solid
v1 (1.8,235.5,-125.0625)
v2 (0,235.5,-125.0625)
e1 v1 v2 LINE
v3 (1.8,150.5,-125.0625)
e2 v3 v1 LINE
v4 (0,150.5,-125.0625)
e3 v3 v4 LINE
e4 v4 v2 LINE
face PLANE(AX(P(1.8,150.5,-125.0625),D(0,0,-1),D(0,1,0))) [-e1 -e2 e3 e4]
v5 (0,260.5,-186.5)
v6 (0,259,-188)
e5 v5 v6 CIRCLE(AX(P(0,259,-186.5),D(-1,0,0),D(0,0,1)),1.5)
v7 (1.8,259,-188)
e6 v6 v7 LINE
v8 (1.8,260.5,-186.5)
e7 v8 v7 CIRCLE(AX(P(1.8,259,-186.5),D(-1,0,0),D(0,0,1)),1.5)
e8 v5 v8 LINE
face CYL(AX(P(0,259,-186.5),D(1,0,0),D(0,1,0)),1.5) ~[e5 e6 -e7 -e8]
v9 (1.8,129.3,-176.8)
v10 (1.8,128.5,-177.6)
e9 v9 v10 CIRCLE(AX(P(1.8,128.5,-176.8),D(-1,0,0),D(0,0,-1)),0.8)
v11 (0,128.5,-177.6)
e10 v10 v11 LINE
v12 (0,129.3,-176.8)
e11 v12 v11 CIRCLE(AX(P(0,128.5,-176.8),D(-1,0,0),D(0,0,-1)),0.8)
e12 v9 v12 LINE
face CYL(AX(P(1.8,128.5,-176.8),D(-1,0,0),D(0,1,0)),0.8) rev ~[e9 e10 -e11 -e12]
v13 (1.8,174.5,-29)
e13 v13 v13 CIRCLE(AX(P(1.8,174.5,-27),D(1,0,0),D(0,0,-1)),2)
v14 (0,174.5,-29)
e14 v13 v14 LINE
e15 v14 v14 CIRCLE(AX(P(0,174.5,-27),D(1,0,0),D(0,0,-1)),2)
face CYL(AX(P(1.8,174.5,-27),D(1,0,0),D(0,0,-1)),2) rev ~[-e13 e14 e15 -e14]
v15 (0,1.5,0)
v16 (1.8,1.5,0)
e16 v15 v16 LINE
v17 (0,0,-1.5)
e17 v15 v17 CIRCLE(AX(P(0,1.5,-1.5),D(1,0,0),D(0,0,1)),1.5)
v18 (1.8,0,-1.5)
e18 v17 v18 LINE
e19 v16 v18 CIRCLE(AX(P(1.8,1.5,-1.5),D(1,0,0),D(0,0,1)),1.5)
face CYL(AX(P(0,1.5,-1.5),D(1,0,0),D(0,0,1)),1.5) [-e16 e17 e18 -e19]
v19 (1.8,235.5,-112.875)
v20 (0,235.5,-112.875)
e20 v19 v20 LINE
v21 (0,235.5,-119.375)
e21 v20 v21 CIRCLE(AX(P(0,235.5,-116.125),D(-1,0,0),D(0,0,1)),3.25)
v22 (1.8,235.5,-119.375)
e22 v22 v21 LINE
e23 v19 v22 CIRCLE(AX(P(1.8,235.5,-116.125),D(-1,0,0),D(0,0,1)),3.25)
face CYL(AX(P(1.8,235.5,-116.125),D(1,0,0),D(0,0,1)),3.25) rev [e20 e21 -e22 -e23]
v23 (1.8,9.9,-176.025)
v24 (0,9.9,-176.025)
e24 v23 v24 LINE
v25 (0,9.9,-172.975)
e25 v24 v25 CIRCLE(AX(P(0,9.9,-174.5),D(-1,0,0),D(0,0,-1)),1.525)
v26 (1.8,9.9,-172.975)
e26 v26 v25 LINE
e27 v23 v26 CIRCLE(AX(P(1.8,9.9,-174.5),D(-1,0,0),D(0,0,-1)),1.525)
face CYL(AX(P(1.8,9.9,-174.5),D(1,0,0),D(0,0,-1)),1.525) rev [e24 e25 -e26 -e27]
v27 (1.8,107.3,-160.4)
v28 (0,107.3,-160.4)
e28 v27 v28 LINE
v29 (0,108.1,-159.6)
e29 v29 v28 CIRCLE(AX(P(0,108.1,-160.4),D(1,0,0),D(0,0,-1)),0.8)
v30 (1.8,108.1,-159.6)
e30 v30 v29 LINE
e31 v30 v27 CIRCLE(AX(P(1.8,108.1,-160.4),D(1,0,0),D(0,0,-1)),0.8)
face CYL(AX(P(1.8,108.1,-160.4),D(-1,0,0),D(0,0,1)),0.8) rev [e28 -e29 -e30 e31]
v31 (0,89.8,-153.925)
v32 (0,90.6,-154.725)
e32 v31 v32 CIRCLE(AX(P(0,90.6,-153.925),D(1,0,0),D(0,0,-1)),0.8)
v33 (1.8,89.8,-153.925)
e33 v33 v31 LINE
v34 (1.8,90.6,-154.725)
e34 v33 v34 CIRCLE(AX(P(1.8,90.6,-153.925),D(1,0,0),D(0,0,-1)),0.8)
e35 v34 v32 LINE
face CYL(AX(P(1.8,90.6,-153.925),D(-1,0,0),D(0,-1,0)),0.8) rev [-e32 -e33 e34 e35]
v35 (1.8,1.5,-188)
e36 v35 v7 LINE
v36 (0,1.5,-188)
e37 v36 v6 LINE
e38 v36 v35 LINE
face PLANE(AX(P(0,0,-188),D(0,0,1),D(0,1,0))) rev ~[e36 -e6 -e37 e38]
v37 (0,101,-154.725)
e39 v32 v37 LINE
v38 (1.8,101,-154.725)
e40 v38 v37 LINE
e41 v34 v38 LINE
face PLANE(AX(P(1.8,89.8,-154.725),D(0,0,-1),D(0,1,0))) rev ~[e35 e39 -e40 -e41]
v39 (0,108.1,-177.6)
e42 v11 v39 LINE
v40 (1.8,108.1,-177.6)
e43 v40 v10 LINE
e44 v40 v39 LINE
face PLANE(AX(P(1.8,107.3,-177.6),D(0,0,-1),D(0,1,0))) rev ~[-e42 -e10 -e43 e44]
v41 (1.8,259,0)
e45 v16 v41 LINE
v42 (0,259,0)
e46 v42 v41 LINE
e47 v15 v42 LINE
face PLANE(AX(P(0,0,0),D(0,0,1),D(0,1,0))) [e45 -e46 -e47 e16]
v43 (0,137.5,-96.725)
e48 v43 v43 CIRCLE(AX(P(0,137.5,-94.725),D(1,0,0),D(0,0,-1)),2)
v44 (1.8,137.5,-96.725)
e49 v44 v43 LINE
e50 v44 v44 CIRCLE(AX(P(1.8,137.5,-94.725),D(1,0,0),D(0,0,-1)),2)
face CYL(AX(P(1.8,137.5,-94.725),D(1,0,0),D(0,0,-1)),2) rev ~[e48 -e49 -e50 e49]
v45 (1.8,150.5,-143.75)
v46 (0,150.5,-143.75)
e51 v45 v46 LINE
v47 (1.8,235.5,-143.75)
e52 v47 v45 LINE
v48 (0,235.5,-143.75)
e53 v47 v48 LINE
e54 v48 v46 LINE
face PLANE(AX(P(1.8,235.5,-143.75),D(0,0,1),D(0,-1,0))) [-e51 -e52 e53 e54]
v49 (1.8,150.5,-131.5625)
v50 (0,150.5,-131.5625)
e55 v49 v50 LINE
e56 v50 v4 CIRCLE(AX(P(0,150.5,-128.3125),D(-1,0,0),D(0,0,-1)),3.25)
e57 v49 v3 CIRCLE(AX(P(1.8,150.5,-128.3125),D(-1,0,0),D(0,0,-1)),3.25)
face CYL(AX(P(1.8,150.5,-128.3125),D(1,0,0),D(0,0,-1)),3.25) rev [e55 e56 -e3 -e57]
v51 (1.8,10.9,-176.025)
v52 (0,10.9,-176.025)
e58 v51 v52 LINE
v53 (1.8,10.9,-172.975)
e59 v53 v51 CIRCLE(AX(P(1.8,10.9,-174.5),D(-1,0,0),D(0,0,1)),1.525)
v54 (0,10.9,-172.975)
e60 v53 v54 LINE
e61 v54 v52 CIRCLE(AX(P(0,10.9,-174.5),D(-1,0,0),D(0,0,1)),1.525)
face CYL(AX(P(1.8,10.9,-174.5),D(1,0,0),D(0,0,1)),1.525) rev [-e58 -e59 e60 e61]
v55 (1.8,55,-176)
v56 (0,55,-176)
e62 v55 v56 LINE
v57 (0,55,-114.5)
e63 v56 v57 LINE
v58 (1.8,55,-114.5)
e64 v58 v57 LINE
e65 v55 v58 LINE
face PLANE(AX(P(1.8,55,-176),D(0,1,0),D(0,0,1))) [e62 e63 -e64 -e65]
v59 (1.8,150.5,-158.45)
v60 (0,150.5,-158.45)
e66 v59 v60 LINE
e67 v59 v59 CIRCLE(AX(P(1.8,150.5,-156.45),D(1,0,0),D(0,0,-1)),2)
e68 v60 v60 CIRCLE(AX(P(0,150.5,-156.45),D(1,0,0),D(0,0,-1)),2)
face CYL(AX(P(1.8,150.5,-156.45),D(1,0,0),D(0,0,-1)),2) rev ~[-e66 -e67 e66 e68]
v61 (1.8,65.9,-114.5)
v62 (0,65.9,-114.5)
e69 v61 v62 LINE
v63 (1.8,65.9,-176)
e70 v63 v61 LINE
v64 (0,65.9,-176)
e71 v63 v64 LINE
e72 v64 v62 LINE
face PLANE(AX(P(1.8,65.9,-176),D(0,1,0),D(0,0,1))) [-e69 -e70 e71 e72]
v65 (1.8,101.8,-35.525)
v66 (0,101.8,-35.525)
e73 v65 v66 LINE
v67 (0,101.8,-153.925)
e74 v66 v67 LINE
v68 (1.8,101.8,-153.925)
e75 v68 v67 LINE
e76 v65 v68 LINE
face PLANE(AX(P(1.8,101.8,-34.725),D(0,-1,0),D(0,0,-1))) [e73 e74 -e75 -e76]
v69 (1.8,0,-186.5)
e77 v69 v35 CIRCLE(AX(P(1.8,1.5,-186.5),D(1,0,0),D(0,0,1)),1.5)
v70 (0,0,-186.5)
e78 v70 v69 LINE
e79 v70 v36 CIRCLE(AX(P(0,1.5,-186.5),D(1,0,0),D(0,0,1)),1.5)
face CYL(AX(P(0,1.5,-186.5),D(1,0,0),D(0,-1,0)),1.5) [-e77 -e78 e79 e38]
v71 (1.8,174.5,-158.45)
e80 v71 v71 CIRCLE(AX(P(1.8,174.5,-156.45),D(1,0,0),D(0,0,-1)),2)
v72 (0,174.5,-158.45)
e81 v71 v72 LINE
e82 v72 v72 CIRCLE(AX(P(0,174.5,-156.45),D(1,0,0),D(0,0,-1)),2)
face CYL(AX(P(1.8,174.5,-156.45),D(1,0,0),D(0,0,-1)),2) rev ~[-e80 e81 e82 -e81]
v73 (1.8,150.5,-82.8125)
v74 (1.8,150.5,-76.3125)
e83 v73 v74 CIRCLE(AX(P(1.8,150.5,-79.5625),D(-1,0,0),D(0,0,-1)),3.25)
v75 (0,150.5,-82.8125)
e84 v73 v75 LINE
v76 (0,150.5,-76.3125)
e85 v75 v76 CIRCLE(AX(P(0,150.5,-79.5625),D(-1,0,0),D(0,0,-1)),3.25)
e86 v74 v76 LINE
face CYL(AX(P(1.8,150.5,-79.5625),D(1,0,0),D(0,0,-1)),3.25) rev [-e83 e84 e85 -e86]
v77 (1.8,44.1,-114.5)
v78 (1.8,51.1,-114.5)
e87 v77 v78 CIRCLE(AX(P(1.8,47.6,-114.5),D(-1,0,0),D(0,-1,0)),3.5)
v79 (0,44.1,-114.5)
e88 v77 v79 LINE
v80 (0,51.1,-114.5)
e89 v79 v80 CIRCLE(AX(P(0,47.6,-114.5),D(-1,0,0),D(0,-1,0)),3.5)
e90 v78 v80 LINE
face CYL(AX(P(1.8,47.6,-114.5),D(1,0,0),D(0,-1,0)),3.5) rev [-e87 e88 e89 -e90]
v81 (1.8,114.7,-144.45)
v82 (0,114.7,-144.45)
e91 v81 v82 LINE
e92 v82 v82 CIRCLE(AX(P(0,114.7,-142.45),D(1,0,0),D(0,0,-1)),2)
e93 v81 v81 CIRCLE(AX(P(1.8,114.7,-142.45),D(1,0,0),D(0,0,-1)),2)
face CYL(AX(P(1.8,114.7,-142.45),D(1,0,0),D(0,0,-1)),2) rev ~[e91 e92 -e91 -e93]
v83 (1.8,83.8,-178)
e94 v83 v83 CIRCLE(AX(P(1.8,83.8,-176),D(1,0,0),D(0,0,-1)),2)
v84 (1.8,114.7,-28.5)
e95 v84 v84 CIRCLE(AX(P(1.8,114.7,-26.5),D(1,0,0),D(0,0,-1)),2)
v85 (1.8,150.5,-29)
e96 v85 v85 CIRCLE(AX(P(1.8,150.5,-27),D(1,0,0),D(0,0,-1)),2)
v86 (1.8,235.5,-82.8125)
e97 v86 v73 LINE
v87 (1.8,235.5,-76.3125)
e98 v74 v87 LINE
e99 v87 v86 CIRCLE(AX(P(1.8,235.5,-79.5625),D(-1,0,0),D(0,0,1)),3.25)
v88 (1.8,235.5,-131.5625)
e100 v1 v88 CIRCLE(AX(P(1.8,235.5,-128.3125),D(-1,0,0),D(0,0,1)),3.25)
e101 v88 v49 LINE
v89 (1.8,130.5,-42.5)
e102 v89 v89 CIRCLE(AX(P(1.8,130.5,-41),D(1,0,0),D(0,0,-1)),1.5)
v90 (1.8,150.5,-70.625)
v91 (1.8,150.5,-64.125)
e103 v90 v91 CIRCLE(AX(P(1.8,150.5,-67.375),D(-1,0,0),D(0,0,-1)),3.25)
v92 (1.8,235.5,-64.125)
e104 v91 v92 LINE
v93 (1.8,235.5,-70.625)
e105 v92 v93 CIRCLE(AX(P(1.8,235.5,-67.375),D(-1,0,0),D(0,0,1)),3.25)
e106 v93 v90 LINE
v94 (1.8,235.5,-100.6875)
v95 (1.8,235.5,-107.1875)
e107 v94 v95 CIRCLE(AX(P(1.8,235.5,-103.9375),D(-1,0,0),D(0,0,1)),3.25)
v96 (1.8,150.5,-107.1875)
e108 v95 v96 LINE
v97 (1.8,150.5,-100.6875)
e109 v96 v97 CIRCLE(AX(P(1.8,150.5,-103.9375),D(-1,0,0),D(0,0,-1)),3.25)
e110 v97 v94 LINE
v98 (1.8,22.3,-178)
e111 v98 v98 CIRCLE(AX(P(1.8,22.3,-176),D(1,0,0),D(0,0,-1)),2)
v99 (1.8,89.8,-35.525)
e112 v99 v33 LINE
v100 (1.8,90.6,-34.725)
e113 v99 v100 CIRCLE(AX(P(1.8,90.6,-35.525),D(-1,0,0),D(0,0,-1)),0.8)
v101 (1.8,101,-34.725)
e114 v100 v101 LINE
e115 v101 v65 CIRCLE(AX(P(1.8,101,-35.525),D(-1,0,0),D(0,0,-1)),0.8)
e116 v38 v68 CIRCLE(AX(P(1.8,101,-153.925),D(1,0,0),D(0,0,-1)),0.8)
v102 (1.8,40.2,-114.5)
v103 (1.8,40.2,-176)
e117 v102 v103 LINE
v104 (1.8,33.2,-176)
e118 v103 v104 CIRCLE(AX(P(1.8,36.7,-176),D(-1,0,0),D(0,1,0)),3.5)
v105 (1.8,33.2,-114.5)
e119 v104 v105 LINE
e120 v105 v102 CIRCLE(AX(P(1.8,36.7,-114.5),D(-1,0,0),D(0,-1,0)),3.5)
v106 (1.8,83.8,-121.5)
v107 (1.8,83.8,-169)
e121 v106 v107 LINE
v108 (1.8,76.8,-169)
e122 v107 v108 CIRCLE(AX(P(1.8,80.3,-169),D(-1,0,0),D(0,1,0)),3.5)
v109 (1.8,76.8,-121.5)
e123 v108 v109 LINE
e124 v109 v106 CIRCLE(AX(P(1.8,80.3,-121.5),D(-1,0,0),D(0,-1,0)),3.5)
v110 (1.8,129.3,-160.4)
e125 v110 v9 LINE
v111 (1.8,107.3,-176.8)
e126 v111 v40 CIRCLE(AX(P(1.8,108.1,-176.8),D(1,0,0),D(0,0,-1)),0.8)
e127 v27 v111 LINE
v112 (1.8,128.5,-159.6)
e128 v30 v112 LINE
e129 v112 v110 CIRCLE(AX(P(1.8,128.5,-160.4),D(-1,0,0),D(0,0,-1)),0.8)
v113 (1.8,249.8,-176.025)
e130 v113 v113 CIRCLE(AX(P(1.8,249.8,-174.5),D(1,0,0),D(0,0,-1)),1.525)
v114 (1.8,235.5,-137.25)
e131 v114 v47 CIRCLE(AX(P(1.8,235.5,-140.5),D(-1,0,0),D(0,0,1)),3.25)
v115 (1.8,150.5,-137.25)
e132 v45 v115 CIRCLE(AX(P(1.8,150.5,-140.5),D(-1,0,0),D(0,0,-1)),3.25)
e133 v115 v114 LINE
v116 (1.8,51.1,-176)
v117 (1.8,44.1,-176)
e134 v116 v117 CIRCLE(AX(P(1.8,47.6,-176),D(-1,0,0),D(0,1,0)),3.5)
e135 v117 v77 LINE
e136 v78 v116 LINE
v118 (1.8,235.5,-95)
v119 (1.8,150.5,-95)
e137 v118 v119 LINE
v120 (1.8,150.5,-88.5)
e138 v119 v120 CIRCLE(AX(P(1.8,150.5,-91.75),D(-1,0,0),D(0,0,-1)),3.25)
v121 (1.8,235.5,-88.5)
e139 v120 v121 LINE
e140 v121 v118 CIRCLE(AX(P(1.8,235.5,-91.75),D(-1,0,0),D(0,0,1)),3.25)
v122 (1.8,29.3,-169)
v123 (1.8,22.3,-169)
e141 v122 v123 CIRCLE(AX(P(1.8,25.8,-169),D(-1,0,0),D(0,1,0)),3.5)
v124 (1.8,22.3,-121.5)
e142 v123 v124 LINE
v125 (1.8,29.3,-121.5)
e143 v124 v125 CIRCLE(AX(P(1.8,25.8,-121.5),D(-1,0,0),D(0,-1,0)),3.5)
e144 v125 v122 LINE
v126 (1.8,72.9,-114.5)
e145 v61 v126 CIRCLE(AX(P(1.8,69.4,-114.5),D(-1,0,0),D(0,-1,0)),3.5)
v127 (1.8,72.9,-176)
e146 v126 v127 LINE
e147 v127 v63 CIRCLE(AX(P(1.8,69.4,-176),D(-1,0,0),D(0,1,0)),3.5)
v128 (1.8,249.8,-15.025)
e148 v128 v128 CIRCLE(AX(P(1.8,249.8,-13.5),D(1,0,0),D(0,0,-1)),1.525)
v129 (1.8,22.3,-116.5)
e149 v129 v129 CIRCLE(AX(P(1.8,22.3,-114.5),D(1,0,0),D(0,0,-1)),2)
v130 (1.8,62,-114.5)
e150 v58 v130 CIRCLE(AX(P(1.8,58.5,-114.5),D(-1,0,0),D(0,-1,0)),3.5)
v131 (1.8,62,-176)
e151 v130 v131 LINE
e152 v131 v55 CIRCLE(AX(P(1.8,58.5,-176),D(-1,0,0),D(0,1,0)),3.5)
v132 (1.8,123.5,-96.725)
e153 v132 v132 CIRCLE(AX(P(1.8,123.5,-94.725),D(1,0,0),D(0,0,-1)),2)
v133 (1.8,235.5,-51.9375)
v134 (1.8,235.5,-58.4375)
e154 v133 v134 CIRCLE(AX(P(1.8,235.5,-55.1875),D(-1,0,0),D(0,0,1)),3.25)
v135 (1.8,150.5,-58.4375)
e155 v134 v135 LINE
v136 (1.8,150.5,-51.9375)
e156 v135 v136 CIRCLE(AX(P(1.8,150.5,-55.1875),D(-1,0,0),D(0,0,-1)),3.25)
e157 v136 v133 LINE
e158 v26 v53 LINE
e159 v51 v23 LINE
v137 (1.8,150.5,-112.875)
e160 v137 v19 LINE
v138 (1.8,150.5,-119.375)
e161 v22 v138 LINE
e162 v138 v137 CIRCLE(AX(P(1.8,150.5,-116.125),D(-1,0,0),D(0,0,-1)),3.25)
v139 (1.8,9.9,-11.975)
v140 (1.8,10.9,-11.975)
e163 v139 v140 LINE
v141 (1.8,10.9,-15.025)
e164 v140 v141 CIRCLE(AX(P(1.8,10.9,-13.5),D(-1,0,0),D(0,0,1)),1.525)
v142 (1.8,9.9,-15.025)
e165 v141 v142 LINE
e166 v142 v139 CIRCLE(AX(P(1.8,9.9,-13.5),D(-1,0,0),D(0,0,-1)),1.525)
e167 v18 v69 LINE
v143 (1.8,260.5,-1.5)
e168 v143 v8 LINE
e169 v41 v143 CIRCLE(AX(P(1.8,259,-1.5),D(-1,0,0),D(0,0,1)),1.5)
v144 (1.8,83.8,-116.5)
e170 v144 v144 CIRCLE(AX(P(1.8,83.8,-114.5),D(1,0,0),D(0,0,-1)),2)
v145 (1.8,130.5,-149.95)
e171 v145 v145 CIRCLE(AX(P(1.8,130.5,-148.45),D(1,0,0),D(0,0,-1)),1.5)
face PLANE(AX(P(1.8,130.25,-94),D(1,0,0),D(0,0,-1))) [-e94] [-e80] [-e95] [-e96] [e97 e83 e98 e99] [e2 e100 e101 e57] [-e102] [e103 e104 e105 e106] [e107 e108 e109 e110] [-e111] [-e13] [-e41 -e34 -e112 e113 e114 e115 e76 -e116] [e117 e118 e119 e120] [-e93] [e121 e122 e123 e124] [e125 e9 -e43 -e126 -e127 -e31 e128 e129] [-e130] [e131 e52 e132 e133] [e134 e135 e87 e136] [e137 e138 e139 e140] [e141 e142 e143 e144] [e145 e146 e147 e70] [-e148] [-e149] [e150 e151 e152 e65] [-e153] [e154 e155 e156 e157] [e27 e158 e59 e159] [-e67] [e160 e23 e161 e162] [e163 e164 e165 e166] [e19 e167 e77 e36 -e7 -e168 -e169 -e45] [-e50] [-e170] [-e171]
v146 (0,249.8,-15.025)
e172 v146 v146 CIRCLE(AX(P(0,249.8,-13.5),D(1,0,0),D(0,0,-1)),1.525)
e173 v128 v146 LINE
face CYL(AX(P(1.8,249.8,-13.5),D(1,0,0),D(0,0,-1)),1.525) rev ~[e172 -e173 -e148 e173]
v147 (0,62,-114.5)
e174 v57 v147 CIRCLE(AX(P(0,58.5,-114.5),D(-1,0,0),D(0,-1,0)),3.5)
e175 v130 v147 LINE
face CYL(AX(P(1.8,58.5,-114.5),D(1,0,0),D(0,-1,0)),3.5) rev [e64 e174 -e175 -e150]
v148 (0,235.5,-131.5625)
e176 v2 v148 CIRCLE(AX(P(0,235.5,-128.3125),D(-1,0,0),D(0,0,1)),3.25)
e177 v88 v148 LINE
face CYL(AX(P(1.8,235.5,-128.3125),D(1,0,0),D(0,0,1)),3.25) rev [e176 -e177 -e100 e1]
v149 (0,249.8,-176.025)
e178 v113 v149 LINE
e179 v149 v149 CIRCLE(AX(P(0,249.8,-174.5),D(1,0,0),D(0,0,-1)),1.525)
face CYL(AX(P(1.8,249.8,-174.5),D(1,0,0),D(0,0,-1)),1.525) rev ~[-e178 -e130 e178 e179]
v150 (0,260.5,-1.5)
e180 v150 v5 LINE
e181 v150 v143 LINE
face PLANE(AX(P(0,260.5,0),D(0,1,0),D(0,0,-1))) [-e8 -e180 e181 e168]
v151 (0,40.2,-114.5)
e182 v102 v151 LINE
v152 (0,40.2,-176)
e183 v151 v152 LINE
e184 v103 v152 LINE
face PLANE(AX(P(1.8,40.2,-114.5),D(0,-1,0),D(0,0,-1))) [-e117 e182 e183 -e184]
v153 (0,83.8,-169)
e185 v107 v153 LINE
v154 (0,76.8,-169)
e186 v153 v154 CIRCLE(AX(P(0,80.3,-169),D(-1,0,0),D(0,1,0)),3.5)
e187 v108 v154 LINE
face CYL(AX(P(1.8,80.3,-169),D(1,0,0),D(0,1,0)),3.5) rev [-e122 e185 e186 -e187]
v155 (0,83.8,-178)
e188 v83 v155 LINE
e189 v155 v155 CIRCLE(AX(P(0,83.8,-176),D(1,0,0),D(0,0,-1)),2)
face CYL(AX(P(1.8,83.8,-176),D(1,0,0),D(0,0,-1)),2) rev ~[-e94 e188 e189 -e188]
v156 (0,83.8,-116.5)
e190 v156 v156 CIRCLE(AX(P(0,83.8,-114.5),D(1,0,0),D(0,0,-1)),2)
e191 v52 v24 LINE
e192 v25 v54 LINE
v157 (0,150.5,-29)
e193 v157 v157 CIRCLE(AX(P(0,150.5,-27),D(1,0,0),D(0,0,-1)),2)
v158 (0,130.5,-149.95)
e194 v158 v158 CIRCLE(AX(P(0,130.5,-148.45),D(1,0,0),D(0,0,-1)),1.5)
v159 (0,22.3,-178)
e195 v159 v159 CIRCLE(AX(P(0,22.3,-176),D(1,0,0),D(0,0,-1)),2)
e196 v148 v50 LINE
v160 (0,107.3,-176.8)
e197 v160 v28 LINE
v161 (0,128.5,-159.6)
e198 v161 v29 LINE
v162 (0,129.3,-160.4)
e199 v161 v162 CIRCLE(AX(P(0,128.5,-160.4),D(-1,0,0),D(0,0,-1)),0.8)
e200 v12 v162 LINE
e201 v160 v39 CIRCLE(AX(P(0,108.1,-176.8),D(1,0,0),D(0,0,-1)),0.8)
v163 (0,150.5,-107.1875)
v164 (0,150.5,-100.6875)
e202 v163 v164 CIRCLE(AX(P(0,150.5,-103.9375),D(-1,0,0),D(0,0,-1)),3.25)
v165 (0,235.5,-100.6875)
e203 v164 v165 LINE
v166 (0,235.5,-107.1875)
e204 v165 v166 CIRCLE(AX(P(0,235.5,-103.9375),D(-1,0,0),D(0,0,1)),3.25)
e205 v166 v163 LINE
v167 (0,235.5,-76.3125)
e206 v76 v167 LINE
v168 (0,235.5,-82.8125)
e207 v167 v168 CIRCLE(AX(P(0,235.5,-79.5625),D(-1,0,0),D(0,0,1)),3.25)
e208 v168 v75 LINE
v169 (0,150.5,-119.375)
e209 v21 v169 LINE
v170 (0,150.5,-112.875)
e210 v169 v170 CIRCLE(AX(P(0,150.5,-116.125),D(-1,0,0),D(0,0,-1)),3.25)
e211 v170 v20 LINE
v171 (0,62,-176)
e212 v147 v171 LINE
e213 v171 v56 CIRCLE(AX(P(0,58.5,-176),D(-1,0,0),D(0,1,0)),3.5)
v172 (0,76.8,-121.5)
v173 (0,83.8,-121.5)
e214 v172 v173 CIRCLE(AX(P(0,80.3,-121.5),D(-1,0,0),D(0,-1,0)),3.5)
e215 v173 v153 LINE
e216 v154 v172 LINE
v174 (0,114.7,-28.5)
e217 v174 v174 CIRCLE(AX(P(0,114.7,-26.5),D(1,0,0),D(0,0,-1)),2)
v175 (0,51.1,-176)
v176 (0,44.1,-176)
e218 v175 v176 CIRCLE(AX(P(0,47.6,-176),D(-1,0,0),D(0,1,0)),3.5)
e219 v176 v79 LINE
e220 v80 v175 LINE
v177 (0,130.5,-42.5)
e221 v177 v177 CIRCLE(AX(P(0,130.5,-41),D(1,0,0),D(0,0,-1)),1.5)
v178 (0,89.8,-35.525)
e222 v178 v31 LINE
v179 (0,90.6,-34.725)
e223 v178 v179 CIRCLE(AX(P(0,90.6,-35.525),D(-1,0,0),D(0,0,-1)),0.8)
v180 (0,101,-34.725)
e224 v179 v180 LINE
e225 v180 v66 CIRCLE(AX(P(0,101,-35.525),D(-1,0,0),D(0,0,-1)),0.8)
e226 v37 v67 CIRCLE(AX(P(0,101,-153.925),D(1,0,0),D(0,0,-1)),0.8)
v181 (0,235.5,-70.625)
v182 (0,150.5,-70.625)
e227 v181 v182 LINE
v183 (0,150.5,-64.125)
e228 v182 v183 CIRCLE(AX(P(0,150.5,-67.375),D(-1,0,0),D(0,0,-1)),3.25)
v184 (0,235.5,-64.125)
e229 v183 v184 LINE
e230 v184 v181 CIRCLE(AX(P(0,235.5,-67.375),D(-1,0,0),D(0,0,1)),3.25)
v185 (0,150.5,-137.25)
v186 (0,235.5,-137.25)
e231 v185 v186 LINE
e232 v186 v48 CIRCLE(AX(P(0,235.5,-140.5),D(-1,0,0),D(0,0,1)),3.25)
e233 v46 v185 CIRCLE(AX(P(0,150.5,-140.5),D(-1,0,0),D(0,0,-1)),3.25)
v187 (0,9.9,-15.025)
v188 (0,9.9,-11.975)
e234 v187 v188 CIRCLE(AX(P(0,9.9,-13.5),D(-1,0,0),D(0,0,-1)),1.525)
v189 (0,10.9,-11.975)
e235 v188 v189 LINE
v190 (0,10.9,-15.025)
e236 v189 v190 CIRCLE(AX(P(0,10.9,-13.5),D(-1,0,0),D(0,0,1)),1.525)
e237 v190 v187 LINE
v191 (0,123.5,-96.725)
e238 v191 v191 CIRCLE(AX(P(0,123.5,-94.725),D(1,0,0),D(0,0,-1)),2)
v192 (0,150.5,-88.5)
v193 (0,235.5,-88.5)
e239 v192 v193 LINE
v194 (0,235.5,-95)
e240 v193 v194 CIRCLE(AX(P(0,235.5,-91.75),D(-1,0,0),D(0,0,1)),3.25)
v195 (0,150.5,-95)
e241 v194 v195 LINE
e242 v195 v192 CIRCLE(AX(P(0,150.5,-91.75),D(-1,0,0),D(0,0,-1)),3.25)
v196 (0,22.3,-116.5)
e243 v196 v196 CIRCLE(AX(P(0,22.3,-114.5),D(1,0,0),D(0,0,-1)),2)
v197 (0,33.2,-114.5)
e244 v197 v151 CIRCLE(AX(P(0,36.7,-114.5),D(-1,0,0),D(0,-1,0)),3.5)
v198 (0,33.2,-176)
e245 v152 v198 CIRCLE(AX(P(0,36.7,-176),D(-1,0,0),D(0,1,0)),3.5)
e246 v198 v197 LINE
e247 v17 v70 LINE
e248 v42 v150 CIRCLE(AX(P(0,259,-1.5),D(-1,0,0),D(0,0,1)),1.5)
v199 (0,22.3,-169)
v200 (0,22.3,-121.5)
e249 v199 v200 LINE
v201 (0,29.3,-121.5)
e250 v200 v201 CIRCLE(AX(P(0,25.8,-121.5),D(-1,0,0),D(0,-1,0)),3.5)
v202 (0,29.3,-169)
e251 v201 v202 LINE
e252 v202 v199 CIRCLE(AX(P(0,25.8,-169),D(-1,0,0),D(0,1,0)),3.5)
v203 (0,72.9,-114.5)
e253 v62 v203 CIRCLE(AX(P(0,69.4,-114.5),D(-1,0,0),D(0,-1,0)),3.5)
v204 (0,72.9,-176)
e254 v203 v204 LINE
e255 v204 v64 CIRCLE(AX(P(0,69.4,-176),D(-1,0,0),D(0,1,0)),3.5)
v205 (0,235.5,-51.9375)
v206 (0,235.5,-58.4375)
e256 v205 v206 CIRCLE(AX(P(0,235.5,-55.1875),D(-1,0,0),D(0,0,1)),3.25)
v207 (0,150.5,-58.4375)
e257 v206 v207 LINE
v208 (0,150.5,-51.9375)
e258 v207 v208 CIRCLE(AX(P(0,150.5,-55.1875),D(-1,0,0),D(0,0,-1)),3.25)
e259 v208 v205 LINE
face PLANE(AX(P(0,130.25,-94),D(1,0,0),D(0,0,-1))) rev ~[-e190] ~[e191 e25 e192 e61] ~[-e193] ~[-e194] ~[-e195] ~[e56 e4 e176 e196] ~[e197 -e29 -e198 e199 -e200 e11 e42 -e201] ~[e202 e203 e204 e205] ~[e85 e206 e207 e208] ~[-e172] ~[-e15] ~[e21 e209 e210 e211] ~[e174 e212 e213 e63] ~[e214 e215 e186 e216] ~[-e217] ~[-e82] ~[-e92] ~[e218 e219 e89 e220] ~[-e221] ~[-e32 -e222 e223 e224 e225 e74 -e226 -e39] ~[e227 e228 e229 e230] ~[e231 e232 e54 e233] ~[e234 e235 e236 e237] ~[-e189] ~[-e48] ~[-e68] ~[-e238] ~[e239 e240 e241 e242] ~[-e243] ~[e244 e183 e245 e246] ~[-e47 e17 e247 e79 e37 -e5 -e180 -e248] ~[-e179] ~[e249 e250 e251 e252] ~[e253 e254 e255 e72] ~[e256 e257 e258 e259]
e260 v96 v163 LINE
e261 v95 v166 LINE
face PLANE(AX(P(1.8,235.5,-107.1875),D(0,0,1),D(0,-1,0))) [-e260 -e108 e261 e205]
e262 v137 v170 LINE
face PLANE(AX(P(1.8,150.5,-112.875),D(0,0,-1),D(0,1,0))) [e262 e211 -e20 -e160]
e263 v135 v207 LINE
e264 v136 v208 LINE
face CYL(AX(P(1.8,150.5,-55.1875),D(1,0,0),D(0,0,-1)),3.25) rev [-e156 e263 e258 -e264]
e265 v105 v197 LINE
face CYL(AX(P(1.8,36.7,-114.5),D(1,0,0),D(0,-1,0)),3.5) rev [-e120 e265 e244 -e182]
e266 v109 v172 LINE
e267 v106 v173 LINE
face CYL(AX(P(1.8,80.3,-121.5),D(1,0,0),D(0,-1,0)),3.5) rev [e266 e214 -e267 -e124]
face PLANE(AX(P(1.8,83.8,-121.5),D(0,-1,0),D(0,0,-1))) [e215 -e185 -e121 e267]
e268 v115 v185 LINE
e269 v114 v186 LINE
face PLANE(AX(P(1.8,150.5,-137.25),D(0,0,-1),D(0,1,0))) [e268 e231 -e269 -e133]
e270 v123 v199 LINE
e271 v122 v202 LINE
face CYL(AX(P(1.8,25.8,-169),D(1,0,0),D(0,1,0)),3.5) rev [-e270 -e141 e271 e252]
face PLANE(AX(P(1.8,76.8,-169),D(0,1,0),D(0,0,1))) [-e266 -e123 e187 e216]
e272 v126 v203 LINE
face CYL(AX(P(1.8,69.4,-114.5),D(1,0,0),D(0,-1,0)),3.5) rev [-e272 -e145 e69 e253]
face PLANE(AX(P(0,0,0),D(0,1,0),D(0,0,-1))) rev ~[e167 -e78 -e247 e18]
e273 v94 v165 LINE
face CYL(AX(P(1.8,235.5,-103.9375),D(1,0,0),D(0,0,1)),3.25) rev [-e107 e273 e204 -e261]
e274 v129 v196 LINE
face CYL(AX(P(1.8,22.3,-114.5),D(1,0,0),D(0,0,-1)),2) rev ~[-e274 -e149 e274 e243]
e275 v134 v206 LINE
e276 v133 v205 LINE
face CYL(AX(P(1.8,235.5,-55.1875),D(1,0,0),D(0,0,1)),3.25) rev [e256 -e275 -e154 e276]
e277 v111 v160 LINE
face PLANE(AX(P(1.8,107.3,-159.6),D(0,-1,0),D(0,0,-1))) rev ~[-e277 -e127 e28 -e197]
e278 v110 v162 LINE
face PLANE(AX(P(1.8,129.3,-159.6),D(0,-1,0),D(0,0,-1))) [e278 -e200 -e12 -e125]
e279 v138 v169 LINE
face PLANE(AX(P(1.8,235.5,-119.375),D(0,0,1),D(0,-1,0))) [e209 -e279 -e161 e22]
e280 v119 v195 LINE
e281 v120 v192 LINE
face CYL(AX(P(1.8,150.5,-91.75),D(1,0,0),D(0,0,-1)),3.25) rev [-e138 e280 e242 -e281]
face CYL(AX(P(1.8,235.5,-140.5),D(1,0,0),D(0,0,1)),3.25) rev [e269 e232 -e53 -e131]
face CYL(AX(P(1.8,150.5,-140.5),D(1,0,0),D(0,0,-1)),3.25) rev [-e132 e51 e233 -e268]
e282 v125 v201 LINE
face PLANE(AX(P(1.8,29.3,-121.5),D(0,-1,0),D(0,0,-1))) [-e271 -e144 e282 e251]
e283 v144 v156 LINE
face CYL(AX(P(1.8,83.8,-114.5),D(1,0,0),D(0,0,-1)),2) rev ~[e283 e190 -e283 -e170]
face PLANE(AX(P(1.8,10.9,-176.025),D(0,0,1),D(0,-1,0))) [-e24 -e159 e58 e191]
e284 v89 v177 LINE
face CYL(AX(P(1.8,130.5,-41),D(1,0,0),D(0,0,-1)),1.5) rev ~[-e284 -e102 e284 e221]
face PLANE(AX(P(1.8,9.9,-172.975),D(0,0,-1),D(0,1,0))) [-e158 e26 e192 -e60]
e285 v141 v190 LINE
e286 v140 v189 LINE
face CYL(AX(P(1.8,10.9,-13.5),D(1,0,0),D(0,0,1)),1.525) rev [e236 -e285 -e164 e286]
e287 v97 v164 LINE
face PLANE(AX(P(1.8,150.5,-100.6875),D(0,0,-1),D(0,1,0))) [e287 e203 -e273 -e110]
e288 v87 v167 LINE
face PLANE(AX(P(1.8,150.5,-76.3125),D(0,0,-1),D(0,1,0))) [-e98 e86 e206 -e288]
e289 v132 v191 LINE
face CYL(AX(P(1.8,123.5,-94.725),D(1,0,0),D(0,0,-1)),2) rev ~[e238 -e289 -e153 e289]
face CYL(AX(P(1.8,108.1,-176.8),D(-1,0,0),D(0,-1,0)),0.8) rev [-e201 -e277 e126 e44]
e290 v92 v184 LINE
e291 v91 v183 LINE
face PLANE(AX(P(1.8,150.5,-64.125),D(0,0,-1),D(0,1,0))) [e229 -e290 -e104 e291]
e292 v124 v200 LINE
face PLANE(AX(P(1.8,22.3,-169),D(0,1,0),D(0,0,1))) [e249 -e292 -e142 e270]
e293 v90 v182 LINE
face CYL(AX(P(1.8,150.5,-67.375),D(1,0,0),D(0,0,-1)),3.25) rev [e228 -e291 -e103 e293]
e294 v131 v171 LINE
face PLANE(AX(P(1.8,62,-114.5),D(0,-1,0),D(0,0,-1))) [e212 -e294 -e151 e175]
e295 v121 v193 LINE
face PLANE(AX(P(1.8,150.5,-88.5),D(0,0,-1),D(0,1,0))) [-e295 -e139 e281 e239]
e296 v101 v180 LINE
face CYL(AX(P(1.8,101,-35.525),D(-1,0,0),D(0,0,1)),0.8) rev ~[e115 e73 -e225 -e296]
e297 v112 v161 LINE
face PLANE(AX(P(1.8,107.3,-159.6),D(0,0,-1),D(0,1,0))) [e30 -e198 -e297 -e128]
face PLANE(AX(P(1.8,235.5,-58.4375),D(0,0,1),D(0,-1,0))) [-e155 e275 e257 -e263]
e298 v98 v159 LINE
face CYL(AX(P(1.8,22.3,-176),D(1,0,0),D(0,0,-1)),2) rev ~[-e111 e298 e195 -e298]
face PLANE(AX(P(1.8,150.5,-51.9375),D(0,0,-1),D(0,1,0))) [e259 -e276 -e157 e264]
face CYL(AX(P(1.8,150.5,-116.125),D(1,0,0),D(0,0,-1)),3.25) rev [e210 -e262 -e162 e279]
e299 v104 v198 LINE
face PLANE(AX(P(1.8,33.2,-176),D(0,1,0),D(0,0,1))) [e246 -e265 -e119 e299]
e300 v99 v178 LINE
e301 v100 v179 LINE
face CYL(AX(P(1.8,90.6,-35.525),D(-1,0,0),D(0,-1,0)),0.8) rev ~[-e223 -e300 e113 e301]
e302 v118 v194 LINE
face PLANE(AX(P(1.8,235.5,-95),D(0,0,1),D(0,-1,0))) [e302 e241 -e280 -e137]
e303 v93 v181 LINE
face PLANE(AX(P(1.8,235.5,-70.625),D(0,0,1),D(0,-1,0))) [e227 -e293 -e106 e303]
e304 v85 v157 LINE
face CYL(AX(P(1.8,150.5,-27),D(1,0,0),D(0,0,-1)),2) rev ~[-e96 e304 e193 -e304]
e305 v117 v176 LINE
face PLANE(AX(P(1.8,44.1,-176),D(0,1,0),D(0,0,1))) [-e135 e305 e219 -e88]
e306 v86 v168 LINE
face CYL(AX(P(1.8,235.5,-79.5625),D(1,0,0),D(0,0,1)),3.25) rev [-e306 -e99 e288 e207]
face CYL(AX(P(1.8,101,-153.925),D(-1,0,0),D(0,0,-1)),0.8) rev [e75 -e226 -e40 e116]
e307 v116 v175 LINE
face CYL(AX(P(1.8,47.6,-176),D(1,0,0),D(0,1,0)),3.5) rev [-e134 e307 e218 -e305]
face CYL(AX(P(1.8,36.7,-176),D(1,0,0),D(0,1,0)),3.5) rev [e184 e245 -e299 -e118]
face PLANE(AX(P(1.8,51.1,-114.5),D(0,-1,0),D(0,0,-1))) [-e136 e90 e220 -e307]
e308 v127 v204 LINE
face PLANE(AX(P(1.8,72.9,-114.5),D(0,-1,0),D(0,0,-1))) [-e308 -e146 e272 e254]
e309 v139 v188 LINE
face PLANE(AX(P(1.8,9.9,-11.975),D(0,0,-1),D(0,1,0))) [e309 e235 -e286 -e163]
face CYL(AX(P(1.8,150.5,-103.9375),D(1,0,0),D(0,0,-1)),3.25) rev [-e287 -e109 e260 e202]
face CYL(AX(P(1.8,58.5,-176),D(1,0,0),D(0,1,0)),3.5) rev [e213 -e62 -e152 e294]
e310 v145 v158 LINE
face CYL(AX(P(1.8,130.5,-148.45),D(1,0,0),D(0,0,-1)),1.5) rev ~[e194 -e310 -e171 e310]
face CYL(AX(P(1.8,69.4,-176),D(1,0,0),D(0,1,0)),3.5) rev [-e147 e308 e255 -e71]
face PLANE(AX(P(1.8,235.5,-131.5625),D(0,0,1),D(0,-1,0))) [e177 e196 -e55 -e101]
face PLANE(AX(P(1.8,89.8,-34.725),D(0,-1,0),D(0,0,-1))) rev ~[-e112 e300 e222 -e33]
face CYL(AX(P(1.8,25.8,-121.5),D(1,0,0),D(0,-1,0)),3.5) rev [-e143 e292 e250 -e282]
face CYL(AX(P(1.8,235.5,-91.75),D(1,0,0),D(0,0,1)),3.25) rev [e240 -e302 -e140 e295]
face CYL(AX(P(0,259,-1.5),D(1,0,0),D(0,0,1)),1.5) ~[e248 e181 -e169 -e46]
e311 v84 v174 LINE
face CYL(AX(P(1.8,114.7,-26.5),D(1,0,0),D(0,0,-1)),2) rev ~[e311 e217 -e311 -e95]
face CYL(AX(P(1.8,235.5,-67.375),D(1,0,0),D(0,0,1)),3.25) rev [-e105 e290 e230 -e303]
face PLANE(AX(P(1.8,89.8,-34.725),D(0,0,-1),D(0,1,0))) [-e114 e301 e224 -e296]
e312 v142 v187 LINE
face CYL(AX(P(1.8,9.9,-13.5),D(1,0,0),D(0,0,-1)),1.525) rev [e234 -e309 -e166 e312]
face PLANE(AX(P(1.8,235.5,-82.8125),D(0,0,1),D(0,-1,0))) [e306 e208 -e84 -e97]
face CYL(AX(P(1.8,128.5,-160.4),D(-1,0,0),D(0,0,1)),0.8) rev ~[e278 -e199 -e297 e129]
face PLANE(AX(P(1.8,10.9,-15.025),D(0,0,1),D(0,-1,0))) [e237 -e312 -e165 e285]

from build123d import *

# Parameters (mm, degrees)
SKETCH_1_W             = 188
SKETCH_1_H             = 260.5
BASE_DEPTH             = 1.8
SKETCH_3_R             = 1.525
SKETCH_3_R_2           = 2
SKETCH_3_R_3           = 1.5
SKETCH_3_W             = 120
SKETCH_3_H             = 12
PCIE_DEPTH             = 1.8
CUT_EXTRUDE_2024_REACH = 323.259
SKETCH_5_W             = 18
SKETCH_5_H             = 22
CUT_EXTRUDE_3211_REACH = 323.259
SKETCH_4_R             = 2
THER_DEPTH             = 1.8
FILLET_1_R             = 1.5
FILLET_2_R             = 0.8


with BuildPart() as part:
    # 草图1 → base (new body)
    with BuildSketch(Plane(origin=(0, 0, 0), x_dir=(0, 0, -1), z_dir=(1, 0, 0))):
        with Locations((94, 130.25)):
            Rectangle(SKETCH_1_W, SKETCH_1_H)
    extrude(amount=BASE_DEPTH)

    # 草图3 → pcie (cut)
    with BuildSketch(Plane(origin=(1.8, 0, 0), x_dir=(0, 0, -1), z_dir=(1, 0, 0))):
        with Locations((13.5, 249.8)):
            Circle(SKETCH_3_R)
        with Locations((174.5, 249.8)):
            Circle(SKETCH_3_R)
        with Locations((156.45, 150.5)):
            Circle(SKETCH_3_R_2)
        with Locations((41, 130.5)):
            Circle(SKETCH_3_R_3)
        with Locations((148.45, 130.5)):
            Circle(SKETCH_3_R_3)
        with Locations((27, 150.5)):
            Circle(SKETCH_3_R_2)
        with Locations((26.5, 114.7)):
            Circle(SKETCH_3_R_2)
        with Locations((142.45, 114.7)):
            Circle(SKETCH_3_R_2)
        with Locations((27, 174.5)):
            Circle(SKETCH_3_R_2)
        with Locations((156.45, 174.5)):
            Circle(SKETCH_3_R_2)
        with Locations((94.725, 137.5)):
            Circle(SKETCH_3_R_2)
        with Locations((94.725, 123.5)):
            Circle(SKETCH_3_R_2)
        with Locations((94.725, 95.8)):
            Rectangle(SKETCH_3_W, SKETCH_3_H)
        with BuildLine():
            Line((15.025, 10.9), (15.025, 9.9))
            ThreePointArc((15.025, 9.9), (13.5, 8.375), (11.975, 9.9))
            Line((11.975, 9.9), (11.975, 10.9))
            ThreePointArc((11.975, 10.9), (13.5, 12.425), (15.025, 10.9))
        make_face()
        with BuildLine():
            Line((176.025, 10.9), (176.025, 9.9))
            ThreePointArc((176.025, 9.9), (174.5, 8.375), (172.975, 9.9))
            Line((172.975, 9.9), (172.975, 10.9))
            ThreePointArc((172.975, 10.9), (174.5, 12.425), (176.025, 10.9))
        make_face()
    extrude(amount=-PCIE_DEPTH, mode=Mode.SUBTRACT)

    # 草图5 → Cut-Extrude 2024 (cut, up to next)
    with BuildSketch(Plane(origin=(1.8, 0, 0), x_dir=(0, 0, -1), z_dir=(1, 0, 0)), mode=Mode.PRIVATE) as cut_extrude_2024_sk1:
        with Locations((168.6, 118.3)):
            Rectangle(SKETCH_5_W, SKETCH_5_H)
    cut_extrude_2024_tool1 = extrude(cut_extrude_2024_sk1.sketch, amount=-CUT_EXTRUDE_2024_REACH, mode=Mode.PRIVATE) & part.part
    add(cut_extrude_2024_tool1.solids().sort_by_distance((1.8, 118.3, -168.6))[0], mode=Mode.SUBTRACT)

    # 草图4 → Cut-Extrude 3211 (cut, up to next)
    with BuildSketch(Plane(origin=(1.8, 0, 0), x_dir=(0, 0, -1), z_dir=(1, 0, 0)), mode=Mode.PRIVATE) as cut_extrude_3211_sk1:
        with Locations((114.5, 83.8)):
            Circle(SKETCH_4_R)
    cut_extrude_3211_tool1 = extrude(cut_extrude_3211_sk1.sketch, amount=-CUT_EXTRUDE_3211_REACH, mode=Mode.PRIVATE) & part.part
    # 草图4 → Cut-Extrude 3211 (cut, up to next)
    with BuildSketch(Plane(origin=(1.8, 0, 0), x_dir=(0, 0, -1), z_dir=(1, 0, 0)), mode=Mode.PRIVATE) as cut_extrude_3211_sk2:
        with Locations((176, 83.8)):
            Circle(SKETCH_4_R)
    cut_extrude_3211_tool2 = extrude(cut_extrude_3211_sk2.sketch, amount=-CUT_EXTRUDE_3211_REACH, mode=Mode.PRIVATE) & part.part
    # 草图4 → Cut-Extrude 3211 (cut, up to next)
    with BuildSketch(Plane(origin=(1.8, 0, 0), x_dir=(0, 0, -1), z_dir=(1, 0, 0)), mode=Mode.PRIVATE) as cut_extrude_3211_sk3:
        with Locations((176, 22.3)):
            Circle(SKETCH_4_R)
    cut_extrude_3211_tool3 = extrude(cut_extrude_3211_sk3.sketch, amount=-CUT_EXTRUDE_3211_REACH, mode=Mode.PRIVATE) & part.part
    # 草图4 → Cut-Extrude 3211 (cut, up to next)
    with BuildSketch(Plane(origin=(1.8, 0, 0), x_dir=(0, 0, -1), z_dir=(1, 0, 0)), mode=Mode.PRIVATE) as cut_extrude_3211_sk4:
        with Locations((114.5, 22.3)):
            Circle(SKETCH_4_R)
    cut_extrude_3211_tool4 = extrude(cut_extrude_3211_sk4.sketch, amount=-CUT_EXTRUDE_3211_REACH, mode=Mode.PRIVATE) & part.part
    add(cut_extrude_3211_tool1.solids().sort_by_distance((1.8, 83.8, -114.5))[0], mode=Mode.SUBTRACT)
    add(cut_extrude_3211_tool2.solids().sort_by_distance((1.8, 83.8, -176))[0], mode=Mode.SUBTRACT)
    add(cut_extrude_3211_tool3.solids().sort_by_distance((1.8, 22.3, -176))[0], mode=Mode.SUBTRACT)
    add(cut_extrude_3211_tool4.solids().sort_by_distance((1.8, 22.3, -114.5))[0], mode=Mode.SUBTRACT)

    # 草图2 → ther (cut)
    with BuildSketch(Plane(origin=(1.8, 0, 0), x_dir=(0, 0, -1), z_dir=(1, 0, 0))):
        with BuildLine():
            Line((58.4375, 235.5), (58.4375, 150.5))
            ThreePointArc((58.4375, 150.5), (55.1875, 147.25), (51.9375, 150.5))
            Line((51.9375, 150.5), (51.9375, 235.5))
            ThreePointArc((51.9375, 235.5), (55.1875, 238.75), (58.4375, 235.5))
        make_face()
        with BuildLine():
            Line((70.625, 235.5), (70.625, 150.5))
            ThreePointArc((70.625, 150.5), (67.375, 147.25), (64.125, 150.5))
            Line((64.125, 150.5), (64.125, 235.5))
            ThreePointArc((64.125, 235.5), (67.375, 238.75), (70.625, 235.5))
        make_face()
        with BuildLine():
            Line((82.8125, 235.5), (82.8125, 150.5))
            ThreePointArc((82.8125, 150.5), (79.5625, 147.25), (76.3125, 150.5))
            Line((76.3125, 150.5), (76.3125, 235.5))
            ThreePointArc((76.3125, 235.5), (79.5625, 238.75), (82.8125, 235.5))
        make_face()
        with BuildLine():
            Line((95, 235.5), (95, 150.5))
            ThreePointArc((95, 150.5), (91.75, 147.25), (88.5, 150.5))
            Line((88.5, 150.5), (88.5, 235.5))
            ThreePointArc((88.5, 235.5), (91.75, 238.75), (95, 235.5))
        make_face()
        with BuildLine():
            Line((107.1875, 235.5), (107.1875, 150.5))
            ThreePointArc((107.1875, 150.5), (103.9375, 147.25), (100.6875, 150.5))
            Line((100.6875, 150.5), (100.6875, 235.5))
            ThreePointArc((100.6875, 235.5), (103.9375, 238.75), (107.1875, 235.5))
        make_face()
        with BuildLine():
            Line((119.375, 235.5), (119.375, 150.5))
            ThreePointArc((119.375, 150.5), (116.125, 147.25), (112.875, 150.5))
            Line((112.875, 150.5), (112.875, 235.5))
            ThreePointArc((112.875, 235.5), (116.125, 238.75), (119.375, 235.5))
        make_face()
        with BuildLine():
            Line((131.5625, 235.5), (131.5625, 150.5))
            ThreePointArc((131.5625, 150.5), (128.3125, 147.25), (125.0625, 150.5))
            Line((125.0625, 150.5), (125.0625, 235.5))
            ThreePointArc((125.0625, 235.5), (128.3125, 238.75), (131.5625, 235.5))
        make_face()
        with BuildLine():
            Line((143.75, 235.5), (143.75, 150.5))
            ThreePointArc((143.75, 150.5), (140.5, 147.25), (137.25, 150.5))
            Line((137.25, 150.5), (137.25, 235.5))
            ThreePointArc((137.25, 235.5), (140.5, 238.75), (143.75, 235.5))
        make_face()
        with BuildLine():
            Line((121.5, 83.8), (169, 83.8))
            ThreePointArc((169, 83.8), (172.5, 80.3), (169, 76.8))
            Line((169, 76.8), (121.5, 76.8))
            ThreePointArc((121.5, 76.8), (118, 80.3), (121.5, 83.8))
        make_face()
        with BuildLine():
            Line((121.5, 29.3), (169, 29.3))
            ThreePointArc((169, 29.3), (172.5, 25.8), (169, 22.3))
            Line((169, 22.3), (121.5, 22.3))
            ThreePointArc((121.5, 22.3), (118, 25.8), (121.5, 29.3))
        make_face()
        with BuildLine():
            Line((114.5, 72.9), (176, 72.9))
            ThreePointArc((176, 72.9), (179.5, 69.4), (176, 65.9))
            Line((176, 65.9), (114.5, 65.9))
            ThreePointArc((114.5, 65.9), (111, 69.4), (114.5, 72.9))
        make_face()
        with BuildLine():
            Line((114.5, 62), (176, 62))
            ThreePointArc((176, 62), (179.5, 58.5), (176, 55))
            Line((176, 55), (114.5, 55))
            ThreePointArc((114.5, 55), (111, 58.5), (114.5, 62))
        make_face()
        with BuildLine():
            Line((114.5, 51.1), (176, 51.1))
            ThreePointArc((176, 51.1), (179.5, 47.6), (176, 44.1))
            Line((176, 44.1), (114.5, 44.1))
            ThreePointArc((114.5, 44.1), (111, 47.6), (114.5, 51.1))
        make_face()
        with BuildLine():
            Line((114.5, 40.2), (176, 40.2))
            ThreePointArc((176, 40.2), (179.5, 36.7), (176, 33.2))
            Line((176, 33.2), (114.5, 33.2))
            ThreePointArc((114.5, 33.2), (111, 36.7), (114.5, 40.2))
        make_face()
    extrude(amount=-THER_DEPTH, mode=Mode.SUBTRACT)

    # 圆角1
    fillet_1_edges = [part.edges().sort_by_distance(p)[0] for p in [
        (0.9, 260.5, 0),
        (0.9, 260.5, -188),
        (0.9, 0, -188),
        (0.9, 0, 0),
    ]]
    fillet(fillet_1_edges, radius=FILLET_1_R)

    # 圆角2
    fillet_2_edges = [part.edges().sort_by_distance(p)[0] for p in [
        (0.9, 107.3, -159.6),
        (0.9, 129.3, -159.6),
        (0.9, 129.3, -177.6),
        (0.9, 107.3, -177.6),
        (0.9, 89.8, -154.725),
        (0.9, 101.8, -154.725),
        (0.9, 101.8, -34.725),
        (0.9, 89.8, -34.725),
    ]]
    fillet(fillet_2_edges, radius=FILLET_2_R)


solid = part.part
